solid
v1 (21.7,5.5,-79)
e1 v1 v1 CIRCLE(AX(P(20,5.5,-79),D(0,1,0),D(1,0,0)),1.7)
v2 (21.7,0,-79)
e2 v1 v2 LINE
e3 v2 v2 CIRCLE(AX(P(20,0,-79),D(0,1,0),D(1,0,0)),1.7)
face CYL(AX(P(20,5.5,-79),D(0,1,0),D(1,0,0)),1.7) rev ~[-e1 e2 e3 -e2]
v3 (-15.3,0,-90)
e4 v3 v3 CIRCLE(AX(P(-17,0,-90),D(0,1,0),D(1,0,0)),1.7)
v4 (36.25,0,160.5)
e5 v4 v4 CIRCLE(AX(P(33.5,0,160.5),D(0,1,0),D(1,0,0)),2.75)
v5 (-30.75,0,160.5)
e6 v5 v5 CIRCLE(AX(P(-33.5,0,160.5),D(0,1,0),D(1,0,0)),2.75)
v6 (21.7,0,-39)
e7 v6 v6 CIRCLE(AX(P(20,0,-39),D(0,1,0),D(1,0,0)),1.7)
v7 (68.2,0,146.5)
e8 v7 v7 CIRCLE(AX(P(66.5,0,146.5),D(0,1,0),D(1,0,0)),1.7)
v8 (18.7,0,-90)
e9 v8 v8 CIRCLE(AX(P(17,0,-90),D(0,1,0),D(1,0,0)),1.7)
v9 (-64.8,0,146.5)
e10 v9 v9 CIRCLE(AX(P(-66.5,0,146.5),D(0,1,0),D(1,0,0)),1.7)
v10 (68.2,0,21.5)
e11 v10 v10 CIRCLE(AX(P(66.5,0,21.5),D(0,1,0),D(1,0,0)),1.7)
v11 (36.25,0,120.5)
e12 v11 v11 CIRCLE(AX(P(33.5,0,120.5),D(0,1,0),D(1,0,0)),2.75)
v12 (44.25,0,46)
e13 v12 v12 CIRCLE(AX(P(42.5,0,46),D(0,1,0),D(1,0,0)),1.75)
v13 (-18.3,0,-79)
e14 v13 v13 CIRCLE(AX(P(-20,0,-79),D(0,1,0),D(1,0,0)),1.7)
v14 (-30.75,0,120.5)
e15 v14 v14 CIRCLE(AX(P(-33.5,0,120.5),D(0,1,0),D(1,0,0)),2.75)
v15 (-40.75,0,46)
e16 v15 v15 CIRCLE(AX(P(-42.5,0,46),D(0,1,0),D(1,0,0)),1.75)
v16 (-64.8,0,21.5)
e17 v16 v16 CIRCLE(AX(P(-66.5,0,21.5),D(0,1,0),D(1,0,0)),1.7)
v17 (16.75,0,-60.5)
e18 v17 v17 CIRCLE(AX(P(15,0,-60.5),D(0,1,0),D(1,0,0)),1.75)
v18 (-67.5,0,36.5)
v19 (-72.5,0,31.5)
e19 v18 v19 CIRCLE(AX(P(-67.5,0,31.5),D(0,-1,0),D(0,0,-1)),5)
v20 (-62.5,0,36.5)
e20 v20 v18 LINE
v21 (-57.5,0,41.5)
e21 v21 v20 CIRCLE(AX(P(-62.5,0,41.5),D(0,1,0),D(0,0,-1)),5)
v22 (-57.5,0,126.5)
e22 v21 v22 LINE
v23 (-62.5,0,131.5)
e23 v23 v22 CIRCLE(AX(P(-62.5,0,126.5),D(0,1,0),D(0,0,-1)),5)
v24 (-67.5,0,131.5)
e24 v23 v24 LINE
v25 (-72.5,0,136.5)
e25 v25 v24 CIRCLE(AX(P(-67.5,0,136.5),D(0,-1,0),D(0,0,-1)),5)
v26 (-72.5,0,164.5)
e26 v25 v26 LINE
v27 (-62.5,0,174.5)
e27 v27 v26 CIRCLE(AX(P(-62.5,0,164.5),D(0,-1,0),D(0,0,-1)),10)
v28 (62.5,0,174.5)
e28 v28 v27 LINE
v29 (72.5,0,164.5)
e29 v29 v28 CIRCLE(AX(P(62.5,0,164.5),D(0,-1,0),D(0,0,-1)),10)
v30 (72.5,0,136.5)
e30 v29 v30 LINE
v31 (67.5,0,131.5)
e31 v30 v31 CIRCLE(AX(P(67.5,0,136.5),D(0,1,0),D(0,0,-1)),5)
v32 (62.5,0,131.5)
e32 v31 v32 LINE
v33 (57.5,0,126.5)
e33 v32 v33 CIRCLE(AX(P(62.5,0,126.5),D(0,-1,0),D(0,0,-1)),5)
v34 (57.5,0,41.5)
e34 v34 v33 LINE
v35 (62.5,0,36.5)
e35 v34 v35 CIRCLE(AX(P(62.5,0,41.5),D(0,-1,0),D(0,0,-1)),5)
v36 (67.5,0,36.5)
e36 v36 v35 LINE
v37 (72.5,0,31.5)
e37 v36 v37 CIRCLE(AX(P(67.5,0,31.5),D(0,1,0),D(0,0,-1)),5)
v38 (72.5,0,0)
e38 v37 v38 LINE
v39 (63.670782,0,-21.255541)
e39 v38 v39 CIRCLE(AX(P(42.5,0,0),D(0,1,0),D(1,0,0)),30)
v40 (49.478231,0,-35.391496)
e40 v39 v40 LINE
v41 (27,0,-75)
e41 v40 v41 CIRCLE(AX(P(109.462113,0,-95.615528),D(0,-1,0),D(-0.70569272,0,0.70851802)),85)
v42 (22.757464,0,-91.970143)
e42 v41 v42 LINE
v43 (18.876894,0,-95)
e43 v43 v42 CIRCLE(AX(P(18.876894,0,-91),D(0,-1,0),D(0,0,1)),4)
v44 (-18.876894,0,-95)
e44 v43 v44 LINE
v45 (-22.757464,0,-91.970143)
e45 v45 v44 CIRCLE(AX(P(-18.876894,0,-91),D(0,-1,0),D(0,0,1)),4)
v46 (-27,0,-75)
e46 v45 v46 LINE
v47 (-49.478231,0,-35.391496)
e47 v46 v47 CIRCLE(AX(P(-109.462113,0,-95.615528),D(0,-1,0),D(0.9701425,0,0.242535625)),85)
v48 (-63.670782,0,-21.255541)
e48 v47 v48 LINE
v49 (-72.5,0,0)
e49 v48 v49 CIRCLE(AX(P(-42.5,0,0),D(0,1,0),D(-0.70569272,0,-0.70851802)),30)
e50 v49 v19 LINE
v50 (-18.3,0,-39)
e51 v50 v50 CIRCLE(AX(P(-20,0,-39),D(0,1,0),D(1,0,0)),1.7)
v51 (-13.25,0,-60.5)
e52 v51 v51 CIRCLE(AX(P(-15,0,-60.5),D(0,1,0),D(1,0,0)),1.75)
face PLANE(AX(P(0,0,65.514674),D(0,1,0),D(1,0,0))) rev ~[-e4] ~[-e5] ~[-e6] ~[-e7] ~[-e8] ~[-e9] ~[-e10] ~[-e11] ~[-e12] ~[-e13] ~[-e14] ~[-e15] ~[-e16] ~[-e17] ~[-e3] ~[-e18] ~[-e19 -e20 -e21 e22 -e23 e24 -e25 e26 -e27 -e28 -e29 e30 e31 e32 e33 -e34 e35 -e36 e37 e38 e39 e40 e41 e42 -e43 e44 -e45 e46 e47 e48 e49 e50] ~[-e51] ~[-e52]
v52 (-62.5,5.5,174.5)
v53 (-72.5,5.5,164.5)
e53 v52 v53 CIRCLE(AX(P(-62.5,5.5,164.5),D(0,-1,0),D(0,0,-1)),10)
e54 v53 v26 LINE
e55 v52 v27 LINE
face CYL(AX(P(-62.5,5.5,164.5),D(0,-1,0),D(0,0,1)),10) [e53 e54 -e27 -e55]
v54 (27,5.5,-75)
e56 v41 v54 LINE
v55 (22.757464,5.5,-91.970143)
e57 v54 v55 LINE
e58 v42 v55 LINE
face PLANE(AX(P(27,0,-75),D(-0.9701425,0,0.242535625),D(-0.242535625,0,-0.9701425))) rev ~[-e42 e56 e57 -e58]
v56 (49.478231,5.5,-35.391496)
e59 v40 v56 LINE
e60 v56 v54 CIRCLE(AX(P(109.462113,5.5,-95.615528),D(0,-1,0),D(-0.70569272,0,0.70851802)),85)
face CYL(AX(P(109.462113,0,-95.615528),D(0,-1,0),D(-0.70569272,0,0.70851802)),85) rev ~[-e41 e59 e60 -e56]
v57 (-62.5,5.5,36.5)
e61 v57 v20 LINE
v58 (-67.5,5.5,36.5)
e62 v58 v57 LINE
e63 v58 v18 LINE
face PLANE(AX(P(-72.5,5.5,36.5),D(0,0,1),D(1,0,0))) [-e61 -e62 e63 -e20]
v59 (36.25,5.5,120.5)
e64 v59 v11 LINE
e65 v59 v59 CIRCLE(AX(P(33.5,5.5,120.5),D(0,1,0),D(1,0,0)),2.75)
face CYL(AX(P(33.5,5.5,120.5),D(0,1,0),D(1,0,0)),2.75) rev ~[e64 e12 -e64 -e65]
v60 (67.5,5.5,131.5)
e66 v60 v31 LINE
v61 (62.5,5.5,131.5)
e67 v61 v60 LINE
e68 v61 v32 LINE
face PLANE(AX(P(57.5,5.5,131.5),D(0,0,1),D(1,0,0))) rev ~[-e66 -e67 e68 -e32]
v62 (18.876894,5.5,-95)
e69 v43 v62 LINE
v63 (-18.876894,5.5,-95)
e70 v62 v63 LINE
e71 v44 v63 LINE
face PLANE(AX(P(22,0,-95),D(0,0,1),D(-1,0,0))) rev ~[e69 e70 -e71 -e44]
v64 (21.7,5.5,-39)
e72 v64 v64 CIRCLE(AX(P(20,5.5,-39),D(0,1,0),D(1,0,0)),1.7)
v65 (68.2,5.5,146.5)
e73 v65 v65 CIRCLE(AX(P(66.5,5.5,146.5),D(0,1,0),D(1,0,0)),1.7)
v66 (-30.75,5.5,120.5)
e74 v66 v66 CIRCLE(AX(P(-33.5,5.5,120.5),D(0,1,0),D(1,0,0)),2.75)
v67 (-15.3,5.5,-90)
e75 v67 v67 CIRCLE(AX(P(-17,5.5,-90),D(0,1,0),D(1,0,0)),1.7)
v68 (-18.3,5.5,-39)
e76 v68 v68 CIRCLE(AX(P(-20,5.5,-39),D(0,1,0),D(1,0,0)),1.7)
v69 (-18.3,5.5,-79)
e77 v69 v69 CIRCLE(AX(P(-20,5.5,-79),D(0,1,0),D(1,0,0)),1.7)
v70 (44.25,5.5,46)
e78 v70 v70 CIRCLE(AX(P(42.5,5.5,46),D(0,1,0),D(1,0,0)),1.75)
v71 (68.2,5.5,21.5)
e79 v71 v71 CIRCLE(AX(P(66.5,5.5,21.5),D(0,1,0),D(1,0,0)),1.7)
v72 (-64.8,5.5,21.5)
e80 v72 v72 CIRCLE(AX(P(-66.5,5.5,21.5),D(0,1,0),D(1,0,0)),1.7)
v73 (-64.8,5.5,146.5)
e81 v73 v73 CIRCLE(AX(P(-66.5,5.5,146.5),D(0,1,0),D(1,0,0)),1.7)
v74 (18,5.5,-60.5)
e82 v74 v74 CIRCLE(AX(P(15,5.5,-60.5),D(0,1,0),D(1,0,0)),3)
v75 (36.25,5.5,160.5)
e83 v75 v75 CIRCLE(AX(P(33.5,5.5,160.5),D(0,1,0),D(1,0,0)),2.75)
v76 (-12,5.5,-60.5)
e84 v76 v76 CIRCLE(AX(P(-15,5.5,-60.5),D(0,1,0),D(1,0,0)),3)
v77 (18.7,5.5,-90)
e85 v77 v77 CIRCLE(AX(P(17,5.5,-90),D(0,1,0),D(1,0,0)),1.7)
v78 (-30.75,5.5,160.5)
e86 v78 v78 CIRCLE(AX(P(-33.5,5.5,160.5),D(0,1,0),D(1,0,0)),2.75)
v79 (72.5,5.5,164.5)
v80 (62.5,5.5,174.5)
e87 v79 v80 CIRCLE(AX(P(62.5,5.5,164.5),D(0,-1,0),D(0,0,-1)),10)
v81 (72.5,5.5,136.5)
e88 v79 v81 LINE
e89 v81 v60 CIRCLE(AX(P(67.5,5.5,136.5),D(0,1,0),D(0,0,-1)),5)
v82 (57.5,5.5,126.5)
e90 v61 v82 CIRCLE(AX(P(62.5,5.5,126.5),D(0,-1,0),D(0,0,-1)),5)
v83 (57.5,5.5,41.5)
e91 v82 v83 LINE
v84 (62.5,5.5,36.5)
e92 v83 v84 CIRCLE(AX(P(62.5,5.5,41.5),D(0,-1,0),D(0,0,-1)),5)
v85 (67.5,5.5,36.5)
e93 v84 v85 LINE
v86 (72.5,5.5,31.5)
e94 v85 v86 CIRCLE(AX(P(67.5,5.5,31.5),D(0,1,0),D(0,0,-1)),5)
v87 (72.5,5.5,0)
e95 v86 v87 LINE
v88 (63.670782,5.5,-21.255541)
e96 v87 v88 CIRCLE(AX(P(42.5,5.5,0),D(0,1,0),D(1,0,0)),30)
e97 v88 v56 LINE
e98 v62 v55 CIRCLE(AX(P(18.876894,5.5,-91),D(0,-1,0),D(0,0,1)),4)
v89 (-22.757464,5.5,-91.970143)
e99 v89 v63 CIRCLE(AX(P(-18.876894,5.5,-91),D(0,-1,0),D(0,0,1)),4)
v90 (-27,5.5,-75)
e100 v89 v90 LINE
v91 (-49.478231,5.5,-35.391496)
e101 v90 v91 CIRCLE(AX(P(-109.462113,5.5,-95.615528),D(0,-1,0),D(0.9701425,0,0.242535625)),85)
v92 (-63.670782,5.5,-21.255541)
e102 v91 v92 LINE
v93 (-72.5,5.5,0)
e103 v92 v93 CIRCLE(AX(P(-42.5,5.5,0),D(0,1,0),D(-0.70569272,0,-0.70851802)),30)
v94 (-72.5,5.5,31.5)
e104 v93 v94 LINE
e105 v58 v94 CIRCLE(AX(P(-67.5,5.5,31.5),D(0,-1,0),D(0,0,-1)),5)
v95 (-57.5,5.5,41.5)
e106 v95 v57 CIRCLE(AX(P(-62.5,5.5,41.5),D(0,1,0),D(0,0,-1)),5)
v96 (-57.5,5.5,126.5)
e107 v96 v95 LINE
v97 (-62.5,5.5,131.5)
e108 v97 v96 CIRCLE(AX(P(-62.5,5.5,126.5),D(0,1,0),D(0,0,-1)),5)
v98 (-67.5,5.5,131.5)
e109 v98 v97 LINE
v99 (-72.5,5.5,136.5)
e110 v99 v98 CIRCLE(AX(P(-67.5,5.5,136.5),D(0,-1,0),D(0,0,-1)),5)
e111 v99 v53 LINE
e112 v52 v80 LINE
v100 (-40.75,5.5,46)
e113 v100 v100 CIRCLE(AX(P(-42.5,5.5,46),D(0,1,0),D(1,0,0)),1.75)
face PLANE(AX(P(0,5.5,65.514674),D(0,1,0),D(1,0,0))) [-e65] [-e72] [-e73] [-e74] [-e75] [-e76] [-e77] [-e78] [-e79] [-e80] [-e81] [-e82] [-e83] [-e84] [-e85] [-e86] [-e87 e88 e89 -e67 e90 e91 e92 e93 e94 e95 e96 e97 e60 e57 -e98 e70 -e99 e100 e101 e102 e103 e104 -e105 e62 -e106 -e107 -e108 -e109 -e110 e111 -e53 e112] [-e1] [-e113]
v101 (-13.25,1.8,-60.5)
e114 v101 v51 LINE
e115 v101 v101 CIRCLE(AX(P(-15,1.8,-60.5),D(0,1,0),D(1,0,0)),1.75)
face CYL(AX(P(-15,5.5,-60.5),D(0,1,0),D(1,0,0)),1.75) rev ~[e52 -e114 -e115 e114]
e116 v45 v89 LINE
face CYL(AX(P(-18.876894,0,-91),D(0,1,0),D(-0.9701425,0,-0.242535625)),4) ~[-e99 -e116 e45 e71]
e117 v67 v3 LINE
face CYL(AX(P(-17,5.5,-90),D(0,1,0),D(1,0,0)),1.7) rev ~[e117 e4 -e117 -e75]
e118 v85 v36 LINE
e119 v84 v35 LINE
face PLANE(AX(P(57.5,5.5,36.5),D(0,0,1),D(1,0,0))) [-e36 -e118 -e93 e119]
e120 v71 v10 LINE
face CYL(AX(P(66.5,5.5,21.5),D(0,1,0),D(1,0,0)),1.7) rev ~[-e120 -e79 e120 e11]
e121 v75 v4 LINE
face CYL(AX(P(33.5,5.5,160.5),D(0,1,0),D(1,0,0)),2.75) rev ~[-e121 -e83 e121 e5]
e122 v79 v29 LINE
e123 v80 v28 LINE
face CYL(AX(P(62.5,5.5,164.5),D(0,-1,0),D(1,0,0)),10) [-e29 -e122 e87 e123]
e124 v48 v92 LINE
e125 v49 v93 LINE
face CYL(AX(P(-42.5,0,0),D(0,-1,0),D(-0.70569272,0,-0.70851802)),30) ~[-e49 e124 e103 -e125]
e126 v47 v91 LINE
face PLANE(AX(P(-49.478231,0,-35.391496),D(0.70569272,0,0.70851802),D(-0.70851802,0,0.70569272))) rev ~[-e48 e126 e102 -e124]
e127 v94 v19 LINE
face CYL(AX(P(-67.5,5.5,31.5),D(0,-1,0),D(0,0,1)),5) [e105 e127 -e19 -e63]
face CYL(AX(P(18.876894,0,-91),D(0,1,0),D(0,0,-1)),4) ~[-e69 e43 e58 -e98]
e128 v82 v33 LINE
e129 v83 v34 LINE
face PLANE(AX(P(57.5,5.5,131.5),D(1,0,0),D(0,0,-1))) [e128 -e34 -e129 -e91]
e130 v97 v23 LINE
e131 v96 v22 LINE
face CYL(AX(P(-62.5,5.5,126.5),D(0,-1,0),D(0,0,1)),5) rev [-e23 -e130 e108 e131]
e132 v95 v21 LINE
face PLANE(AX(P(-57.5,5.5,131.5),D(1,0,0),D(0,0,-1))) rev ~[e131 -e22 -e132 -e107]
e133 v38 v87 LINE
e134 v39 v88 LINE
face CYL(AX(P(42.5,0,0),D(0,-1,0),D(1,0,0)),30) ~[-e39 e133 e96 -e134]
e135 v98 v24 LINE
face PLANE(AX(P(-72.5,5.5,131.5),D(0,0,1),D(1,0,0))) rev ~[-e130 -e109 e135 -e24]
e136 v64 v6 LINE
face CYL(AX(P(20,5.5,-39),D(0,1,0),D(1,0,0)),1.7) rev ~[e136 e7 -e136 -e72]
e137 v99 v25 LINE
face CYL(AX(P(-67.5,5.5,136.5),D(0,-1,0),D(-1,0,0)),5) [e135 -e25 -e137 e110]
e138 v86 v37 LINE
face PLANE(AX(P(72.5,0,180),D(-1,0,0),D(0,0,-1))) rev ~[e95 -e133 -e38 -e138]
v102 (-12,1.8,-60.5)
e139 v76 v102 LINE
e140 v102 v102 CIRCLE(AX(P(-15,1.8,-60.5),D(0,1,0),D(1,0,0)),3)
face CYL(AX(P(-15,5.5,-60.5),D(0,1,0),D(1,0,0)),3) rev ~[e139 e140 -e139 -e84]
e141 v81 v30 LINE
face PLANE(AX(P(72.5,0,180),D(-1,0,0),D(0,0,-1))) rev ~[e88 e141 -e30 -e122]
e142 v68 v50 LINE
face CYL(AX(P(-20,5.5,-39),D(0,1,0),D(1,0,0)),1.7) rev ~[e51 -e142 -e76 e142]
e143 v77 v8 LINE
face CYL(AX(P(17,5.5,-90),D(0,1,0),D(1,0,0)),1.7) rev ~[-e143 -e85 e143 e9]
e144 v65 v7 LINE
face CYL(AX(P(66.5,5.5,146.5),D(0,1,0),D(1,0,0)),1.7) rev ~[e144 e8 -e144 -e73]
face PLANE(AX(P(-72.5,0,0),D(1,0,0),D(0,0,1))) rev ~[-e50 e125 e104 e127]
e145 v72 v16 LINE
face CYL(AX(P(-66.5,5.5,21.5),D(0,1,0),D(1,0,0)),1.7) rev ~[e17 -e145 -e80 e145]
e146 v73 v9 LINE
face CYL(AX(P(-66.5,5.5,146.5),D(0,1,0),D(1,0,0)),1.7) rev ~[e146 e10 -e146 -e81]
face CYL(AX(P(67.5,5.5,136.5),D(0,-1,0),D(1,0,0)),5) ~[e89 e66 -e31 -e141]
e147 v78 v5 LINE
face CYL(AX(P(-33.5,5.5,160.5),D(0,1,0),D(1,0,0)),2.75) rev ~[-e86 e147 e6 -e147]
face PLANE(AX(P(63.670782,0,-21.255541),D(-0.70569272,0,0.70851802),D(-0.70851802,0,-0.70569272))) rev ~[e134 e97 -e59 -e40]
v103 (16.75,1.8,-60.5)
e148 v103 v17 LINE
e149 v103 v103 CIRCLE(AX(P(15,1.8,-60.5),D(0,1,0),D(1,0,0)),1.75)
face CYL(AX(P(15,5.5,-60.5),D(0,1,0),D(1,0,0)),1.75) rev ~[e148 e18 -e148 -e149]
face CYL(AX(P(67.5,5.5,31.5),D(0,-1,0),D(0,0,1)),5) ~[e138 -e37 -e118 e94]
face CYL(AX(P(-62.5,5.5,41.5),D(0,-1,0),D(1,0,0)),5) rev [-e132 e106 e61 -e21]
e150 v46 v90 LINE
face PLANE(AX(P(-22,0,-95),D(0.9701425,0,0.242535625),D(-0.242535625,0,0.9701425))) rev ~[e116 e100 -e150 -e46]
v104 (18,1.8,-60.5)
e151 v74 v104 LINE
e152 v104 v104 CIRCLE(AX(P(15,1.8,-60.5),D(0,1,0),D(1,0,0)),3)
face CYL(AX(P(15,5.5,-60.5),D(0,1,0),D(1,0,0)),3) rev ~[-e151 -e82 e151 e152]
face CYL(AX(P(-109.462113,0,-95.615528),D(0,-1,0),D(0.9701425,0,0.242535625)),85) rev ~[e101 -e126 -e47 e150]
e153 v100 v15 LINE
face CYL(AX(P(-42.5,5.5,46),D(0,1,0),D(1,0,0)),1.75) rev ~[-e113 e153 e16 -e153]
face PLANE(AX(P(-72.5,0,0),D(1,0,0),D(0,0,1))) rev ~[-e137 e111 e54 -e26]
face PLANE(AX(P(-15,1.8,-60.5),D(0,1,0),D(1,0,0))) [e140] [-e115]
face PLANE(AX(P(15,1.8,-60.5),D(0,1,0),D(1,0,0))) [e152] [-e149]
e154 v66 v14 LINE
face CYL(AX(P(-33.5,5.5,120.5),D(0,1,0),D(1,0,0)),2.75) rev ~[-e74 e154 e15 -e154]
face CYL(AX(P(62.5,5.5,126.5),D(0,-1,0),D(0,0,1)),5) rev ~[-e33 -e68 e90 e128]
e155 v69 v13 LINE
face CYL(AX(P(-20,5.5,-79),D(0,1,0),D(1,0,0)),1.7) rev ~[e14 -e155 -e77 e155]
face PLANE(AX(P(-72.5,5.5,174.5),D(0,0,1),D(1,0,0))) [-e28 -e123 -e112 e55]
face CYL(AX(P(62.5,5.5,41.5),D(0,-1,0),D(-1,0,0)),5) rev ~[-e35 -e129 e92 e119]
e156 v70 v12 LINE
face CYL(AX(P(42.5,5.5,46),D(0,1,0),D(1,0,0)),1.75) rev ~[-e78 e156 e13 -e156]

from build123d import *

# Parameters (mm, degrees)
DECK_BASE_DEPTH     = 5.5
BOLT_SLOT_REACH     = 7.5
SKETCH_3_R          = 1.7
FILLET_1_R          = 4
CUT_EXTRUDE_2_REACH = 7.5
SKETCH_11_W         = 15
SKETCH_11_H         = 95
CUT_EXTRUDE_1_REACH = 7.5
SKETCH_10_W         = 145
SKETCH_10_H         = 38.5
FILLET_2_R          = 10
FILLET_3_R          = 5
LIDAR_SLOT_REACH    = 7.5
SKETCH_4_R          = 1.7
VESC_SLOT_REACH     = 7.5
SKETCH_6_R          = 2.75
NANO_SLOT_REACH     = 7.5
SKETCH_7_R          = 1.75
CUT_EXTRUDE_3_REACH = 7.5
SKETCH_12_R         = 1.75
SKETCH_13_R         = 3
CUT_EXTRUDE_4_DEPTH = 3.7


with BuildPart() as part:
    # 스케치1 → Deck base (new body)
    with BuildSketch(Plane(origin=(0, 0, 0), x_dir=(1, 0, 0), z_dir=(0, 1, 0))):
        with BuildLine():
            Line((-72.5, 0), (-72.5, -180))
            ThreePointArc((-72.5, -180), (-69.571067812, -187.071067812), (-62.5, -190))
            Line((-62.5, -190), (-49.196112248, -190))
            ThreePointArc((-49.196112248, -190), (-47.589899161, -190.265015363), (-46.15395453, -191.031968194))
            Line((-46.15395453, -191.031968194), (-18.84604547, -211.968031806))
            ThreePointArc((-18.84604547, -211.968031806), (-17.410100839, -212.734984637), (-15.803887752, -213))
            Line((-15.803887752, -213), (15.803887752, -213))
            ThreePointArc((15.803887752, -213), (17.410100839, -212.734984637), (18.84604547, -211.968031806))
            Line((18.84604547, -211.968031806), (46.15395453, -191.031968194))
            ThreePointArc((46.15395453, -191.031968194), (47.589899161, -190.265015363), (49.196112248, -190))
            Line((49.196112248, -190), (62.5, -190))
            ThreePointArc((62.5, -190), (69.571067812, -187.071067812), (72.5, -180))
            Line((72.5, -180), (72.5, 0))
            ThreePointArc((72.5, 0), (70.204904333, 11.508182998), (63.670781605, 21.255540601))
            Line((63.670781605, 21.255540601), (49.478231298, 35.391496426))
            ThreePointArc((49.478231298, 35.391496426), (35.536990456, 53.662264501), (27, 75))
            Line((27, 75), (22, 95))
            Line((22, 95), (-22, 95))
            Line((-22, 95), (-27, 75))
            ThreePointArc((-27, 75), (-35.536990456, 53.662264501), (-49.478231298, 35.391496426))
            Line((-49.478231298, 35.391496426), (-63.670781605, 21.255540601))
            ThreePointArc((-63.670781605, 21.255540601), (-70.204904333, 11.508182998), (-72.5, 0))
        make_face()
    extrude(amount=DECK_BASE_DEPTH)

    # 스케치3 → Bolt slot (cut, up to next)
    with BuildSketch(Plane(origin=(0, 5.5, 0), x_dir=(1, 0, 0), z_dir=(0, 1, 0)), mode=Mode.PRIVATE) as bolt_slot_sk1:
        with Locations((17, 90)):
            Circle(SKETCH_3_R)
    bolt_slot_tool1 = extrude(bolt_slot_sk1.sketch, amount=-BOLT_SLOT_REACH, mode=Mode.PRIVATE) & part.part
    add(bolt_slot_tool1.solids().sort_by_distance((17, 5.5, -90))[0], mode=Mode.SUBTRACT)
    # 스케치3 → Bolt slot (cut, up to next)
    with BuildSketch(Plane(origin=(0, 5.5, 0), x_dir=(1, 0, 0), z_dir=(0, 1, 0)), mode=Mode.PRIVATE) as bolt_slot_sk2:
        with Locations((66.5, -146.5)):
            Circle(SKETCH_3_R)
    bolt_slot_tool2 = extrude(bolt_slot_sk2.sketch, amount=-BOLT_SLOT_REACH, mode=Mode.PRIVATE) & part.part
    add(bolt_slot_tool2.solids().sort_by_distance((66.5, 5.5, 146.5))[0], mode=Mode.SUBTRACT)
    # 스케치3 → Bolt slot (cut, up to next)
    with BuildSketch(Plane(origin=(0, 5.5, 0), x_dir=(1, 0, 0), z_dir=(0, 1, 0)), mode=Mode.PRIVATE) as bolt_slot_sk3:
        with Locations((66.5, -116.5)):
            Circle(SKETCH_3_R)
    bolt_slot_tool3 = extrude(bolt_slot_sk3.sketch, amount=-BOLT_SLOT_REACH, mode=Mode.PRIVATE) & part.part
    add(bolt_slot_tool3.solids().sort_by_distance((66.5, 5.5, 116.5))[0], mode=Mode.SUBTRACT)
    # 스케치3 → Bolt slot (cut, up to next)
    with BuildSketch(Plane(origin=(0, 5.5, 0), x_dir=(1, 0, 0), z_dir=(0, 1, 0)), mode=Mode.PRIVATE) as bolt_slot_sk4:
        with Locations((66.5, -51.5)):
            Circle(SKETCH_3_R)
    bolt_slot_tool4 = extrude(bolt_slot_sk4.sketch, amount=-BOLT_SLOT_REACH, mode=Mode.PRIVATE) & part.part
    add(bolt_slot_tool4.solids().sort_by_distance((66.5, 5.5, 51.5))[0], mode=Mode.SUBTRACT)
    # 스케치3 → Bolt slot (cut, up to next)
    with BuildSketch(Plane(origin=(0, 5.5, 0), x_dir=(1, 0, 0), z_dir=(0, 1, 0)), mode=Mode.PRIVATE) as bolt_slot_sk5:
        with Locations((66.5, -21.5)):
            Circle(SKETCH_3_R)
    bolt_slot_tool5 = extrude(bolt_slot_sk5.sketch, amount=-BOLT_SLOT_REACH, mode=Mode.PRIVATE) & part.part
    add(bolt_slot_tool5.solids().sort_by_distance((66.5, 5.5, 21.5))[0], mode=Mode.SUBTRACT)
    # 스케치3 → Bolt slot (cut, up to next)
    with BuildSketch(Plane(origin=(0, 5.5, 0), x_dir=(1, 0, 0), z_dir=(0, 1, 0)), mode=Mode.PRIVATE) as bolt_slot_sk6:
        with Locations((-66.5, -21.5)):
            Circle(SKETCH_3_R)
    bolt_slot_tool6 = extrude(bolt_slot_sk6.sketch, amount=-BOLT_SLOT_REACH, mode=Mode.PRIVATE) & part.part
    add(bolt_slot_tool6.solids().sort_by_distance((-66.5, 5.5, 21.5))[0], mode=Mode.SUBTRACT)
    # 스케치3 → Bolt slot (cut, up to next)
    with BuildSketch(Plane(origin=(0, 5.5, 0), x_dir=(1, 0, 0), z_dir=(0, 1, 0)), mode=Mode.PRIVATE) as bolt_slot_sk7:
        with Locations((-66.5, -51.5)):
            Circle(SKETCH_3_R)
    bolt_slot_tool7 = extrude(bolt_slot_sk7.sketch, amount=-BOLT_SLOT_REACH, mode=Mode.PRIVATE) & part.part
    add(bolt_slot_tool7.solids().sort_by_distance((-66.5, 5.5, 51.5))[0], mode=Mode.SUBTRACT)
    # 스케치3 → Bolt slot (cut, up to next)
    with BuildSketch(Plane(origin=(0, 5.5, 0), x_dir=(1, 0, 0), z_dir=(0, 1, 0)), mode=Mode.PRIVATE) as bolt_slot_sk8:
        with Locations((-66.5, -116.5)):
            Circle(SKETCH_3_R)
    bolt_slot_tool8 = extrude(bolt_slot_sk8.sketch, amount=-BOLT_SLOT_REACH, mode=Mode.PRIVATE) & part.part
    add(bolt_slot_tool8.solids().sort_by_distance((-66.5, 5.5, 116.5))[0], mode=Mode.SUBTRACT)
    # 스케치3 → Bolt slot (cut, up to next)
    with BuildSketch(Plane(origin=(0, 5.5, 0), x_dir=(1, 0, 0), z_dir=(0, 1, 0)), mode=Mode.PRIVATE) as bolt_slot_sk9:
        with Locations((-66.5, -146.5)):
            Circle(SKETCH_3_R)
    bolt_slot_tool9 = extrude(bolt_slot_sk9.sketch, amount=-BOLT_SLOT_REACH, mode=Mode.PRIVATE) & part.part
    add(bolt_slot_tool9.solids().sort_by_distance((-66.5, 5.5, 146.5))[0], mode=Mode.SUBTRACT)
    # 스케치3 → Bolt slot (cut, up to next)
    with BuildSketch(Plane(origin=(0, 5.5, 0), x_dir=(1, 0, 0), z_dir=(0, 1, 0)), mode=Mode.PRIVATE) as bolt_slot_sk10:
        with Locations((-17, 90)):
            Circle(SKETCH_3_R)
    bolt_slot_tool10 = extrude(bolt_slot_sk10.sketch, amount=-BOLT_SLOT_REACH, mode=Mode.PRIVATE) & part.part
    add(bolt_slot_tool10.solids().sort_by_distance((-17, 5.5, -90))[0], mode=Mode.SUBTRACT)

    # 필렛1
    fillet_1_edges = [part.edges().sort_by_distance(p)[0] for p in [
        (22, 2.75, -95),
        (-22, 2.75, -95),
    ]]
    fillet(fillet_1_edges, radius=FILLET_1_R)

    # 스케치11 → 컷-돌출2 (cut, up to next)
    with BuildSketch(Plane(origin=(0, 5.5, 0), x_dir=(1, 0, 0), z_dir=(0, 1, 0)), mode=Mode.PRIVATE) as cut_extrude_2_sk1:
        with Locations((-65, -84)):
            Rectangle(SKETCH_11_W, SKETCH_11_H)
    cut_extrude_2_tool1 = extrude(cut_extrude_2_sk1.sketch, amount=-CUT_EXTRUDE_2_REACH, mode=Mode.PRIVATE) & part.part
    add(cut_extrude_2_tool1.solids().sort_by_distance((-65, 5.5, 84))[0], mode=Mode.SUBTRACT)
    # 스케치11 → 컷-돌출2 (cut, up to next)
    with BuildSketch(Plane(origin=(0, 5.5, 0), x_dir=(1, 0, 0), z_dir=(0, 1, 0)), mode=Mode.PRIVATE) as cut_extrude_2_sk2:
        with Locations((65, -84)):
            Rectangle(SKETCH_11_W, SKETCH_11_H)
    cut_extrude_2_tool2 = extrude(cut_extrude_2_sk2.sketch, amount=-CUT_EXTRUDE_2_REACH, mode=Mode.PRIVATE) & part.part
    add(cut_extrude_2_tool2.solids().sort_by_distance((65, 5.5, 84))[0], mode=Mode.SUBTRACT)

    # 스케치10 → 컷-돌출1 (cut, up to next)
    with BuildSketch(Plane(origin=(0, 5.5, 0), x_dir=(1, 0, 0), z_dir=(0, 1, 0)), mode=Mode.PRIVATE) as cut_extrude_1_sk1:
        with Locations((0, -193.75)):
            Rectangle(SKETCH_10_W, SKETCH_10_H)
    cut_extrude_1_tool1 = extrude(cut_extrude_1_sk1.sketch, amount=-CUT_EXTRUDE_1_REACH, mode=Mode.PRIVATE) & part.part
    add(cut_extrude_1_tool1.solids().sort_by_distance((0, 5.5, 193.75))[0], mode=Mode.SUBTRACT)

    # 필렛2
    fillet_2_edges = [part.edges().sort_by_distance(p)[0] for p in [
        (72.5, 2.75, 174.5),
        (-72.5, 2.75, 174.5),
    ]]
    fillet(fillet_2_edges, radius=FILLET_2_R)

    # 필렛3
    fillet_3_edges = [part.edges().sort_by_distance(p)[0] for p in [
        (-72.5, 2.75, 131.5),
        (-72.5, 2.75, 36.5),
        (-57.5, 2.75, 36.5),
        (-57.5, 2.75, 131.5),
        (72.5, 2.75, 36.5),
        (72.5, 2.75, 131.5),
        (57.5, 2.75, 131.5),
        (57.5, 2.75, 36.5),
    ]]
    fillet(fillet_3_edges, radius=FILLET_3_R)

    # 스케치4 → Lidar slot (cut, up to next)
    with BuildSketch(Plane(origin=(0, 5.5, 0), x_dir=(1, 0, 0), z_dir=(0, 1, 0)), mode=Mode.PRIVATE) as lidar_slot_sk1:
        with Locations((-20, 79)):
            Circle(SKETCH_4_R)
    lidar_slot_tool1 = extrude(lidar_slot_sk1.sketch, amount=-LIDAR_SLOT_REACH, mode=Mode.PRIVATE) & part.part
    add(lidar_slot_tool1.solids().sort_by_distance((-20, 5.5, -79))[0], mode=Mode.SUBTRACT)
    # 스케치4 → Lidar slot (cut, up to next)
    with BuildSketch(Plane(origin=(0, 5.5, 0), x_dir=(1, 0, 0), z_dir=(0, 1, 0)), mode=Mode.PRIVATE) as lidar_slot_sk2:
        with Locations((-20, 39)):
            Circle(SKETCH_4_R)
    lidar_slot_tool2 = extrude(lidar_slot_sk2.sketch, amount=-LIDAR_SLOT_REACH, mode=Mode.PRIVATE) & part.part
    add(lidar_slot_tool2.solids().sort_by_distance((-20, 5.5, -39))[0], mode=Mode.SUBTRACT)
    # 스케치4 → Lidar slot (cut, up to next)
    with BuildSketch(Plane(origin=(0, 5.5, 0), x_dir=(1, 0, 0), z_dir=(0, 1, 0)), mode=Mode.PRIVATE) as lidar_slot_sk3:
        with Locations((20, 39)):
            Circle(SKETCH_4_R)
    lidar_slot_tool3 = extrude(lidar_slot_sk3.sketch, amount=-LIDAR_SLOT_REACH, mode=Mode.PRIVATE) & part.part
    add(lidar_slot_tool3.solids().sort_by_distance((20, 5.5, -39))[0], mode=Mode.SUBTRACT)
    # 스케치4 → Lidar slot (cut, up to next)
    with BuildSketch(Plane(origin=(0, 5.5, 0), x_dir=(1, 0, 0), z_dir=(0, 1, 0)), mode=Mode.PRIVATE) as lidar_slot_sk4:
        with Locations((20, 79)):
            Circle(SKETCH_4_R)
    lidar_slot_tool4 = extrude(lidar_slot_sk4.sketch, amount=-LIDAR_SLOT_REACH, mode=Mode.PRIVATE) & part.part
    add(lidar_slot_tool4.solids().sort_by_distance((20, 5.5, -79))[0], mode=Mode.SUBTRACT)

    # 스케치6 → Vesc slot (cut, up to next)
    with BuildSketch(Plane(origin=(0, 5.5, 0), x_dir=(1, 0, 0), z_dir=(0, 1, 0)), mode=Mode.PRIVATE) as vesc_slot_sk1:
        with Locations((33.5, -120.5)):
            Circle(SKETCH_6_R)
    vesc_slot_tool1 = extrude(vesc_slot_sk1.sketch, amount=-VESC_SLOT_REACH, mode=Mode.PRIVATE) & part.part
    add(vesc_slot_tool1.solids().sort_by_distance((33.5, 5.5, 120.5))[0], mode=Mode.SUBTRACT)
    # 스케치6 → Vesc slot (cut, up to next)
    with BuildSketch(Plane(origin=(0, 5.5, 0), x_dir=(1, 0, 0), z_dir=(0, 1, 0)), mode=Mode.PRIVATE) as vesc_slot_sk2:
        with Locations((33.5, -160.5)):
            Circle(SKETCH_6_R)
    vesc_slot_tool2 = extrude(vesc_slot_sk2.sketch, amount=-VESC_SLOT_REACH, mode=Mode.PRIVATE) & part.part
    add(vesc_slot_tool2.solids().sort_by_distance((33.5, 5.5, 160.5))[0], mode=Mode.SUBTRACT)
    # 스케치6 → Vesc slot (cut, up to next)
    with BuildSketch(Plane(origin=(0, 5.5, 0), x_dir=(1, 0, 0), z_dir=(0, 1, 0)), mode=Mode.PRIVATE) as vesc_slot_sk3:
        with Locations((-33.5, -160.5)):
            Circle(SKETCH_6_R)
    vesc_slot_tool3 = extrude(vesc_slot_sk3.sketch, amount=-VESC_SLOT_REACH, mode=Mode.PRIVATE) & part.part
    add(vesc_slot_tool3.solids().sort_by_distance((-33.5, 5.5, 160.5))[0], mode=Mode.SUBTRACT)
    # 스케치6 → Vesc slot (cut, up to next)
    with BuildSketch(Plane(origin=(0, 5.5, 0), x_dir=(1, 0, 0), z_dir=(0, 1, 0)), mode=Mode.PRIVATE) as vesc_slot_sk4:
        with Locations((-33.5, -120.5)):
            Circle(SKETCH_6_R)
    vesc_slot_tool4 = extrude(vesc_slot_sk4.sketch, amount=-VESC_SLOT_REACH, mode=Mode.PRIVATE) & part.part
    add(vesc_slot_tool4.solids().sort_by_distance((-33.5, 5.5, 120.5))[0], mode=Mode.SUBTRACT)

    # 스케치7 → Nano slot (cut, up to next)
    with BuildSketch(Plane(origin=(0, 5.5, 0), x_dir=(1, 0, 0), z_dir=(0, 1, 0)), mode=Mode.PRIVATE) as nano_slot_sk1:
        with Locations((-42.5, -46)):
            Circle(SKETCH_7_R)
    nano_slot_tool1 = extrude(nano_slot_sk1.sketch, amount=-NANO_SLOT_REACH, mode=Mode.PRIVATE) & part.part
    add(nano_slot_tool1.solids().sort_by_distance((-42.5, 5.5, 46))[0], mode=Mode.SUBTRACT)
    # 스케치7 → Nano slot (cut, up to next)
    with BuildSketch(Plane(origin=(0, 5.5, 0), x_dir=(1, 0, 0), z_dir=(0, 1, 0)), mode=Mode.PRIVATE) as nano_slot_sk2:
        with Locations((42.5, -46)):
            Circle(SKETCH_7_R)
    nano_slot_tool2 = extrude(nano_slot_sk2.sketch, amount=-NANO_SLOT_REACH, mode=Mode.PRIVATE) & part.part
    add(nano_slot_tool2.solids().sort_by_distance((42.5, 5.5, 46))[0], mode=Mode.SUBTRACT)

    # 스케치12 → 컷-돌출3 (cut, up to next)
    with BuildSketch(Plane(origin=(0, 5.5, 0), x_dir=(1, 0, 0), z_dir=(0, 1, 0)), mode=Mode.PRIVATE) as cut_extrude_3_sk1:
        with Locations((-15, 60.5)):
            Circle(SKETCH_12_R)
    cut_extrude_3_tool1 = extrude(cut_extrude_3_sk1.sketch, amount=-CUT_EXTRUDE_3_REACH, mode=Mode.PRIVATE) & part.part
    add(cut_extrude_3_tool1.solids().sort_by_distance((-15, 5.5, -60.5))[0], mode=Mode.SUBTRACT)
    # 스케치12 → 컷-돌출3 (cut, up to next)
    with BuildSketch(Plane(origin=(0, 5.5, 0), x_dir=(1, 0, 0), z_dir=(0, 1, 0)), mode=Mode.PRIVATE) as cut_extrude_3_sk2:
        with Locations((15, 60.5)):
            Circle(SKETCH_12_R)
    cut_extrude_3_tool2 = extrude(cut_extrude_3_sk2.sketch, amount=-CUT_EXTRUDE_3_REACH, mode=Mode.PRIVATE) & part.part
    add(cut_extrude_3_tool2.solids().sort_by_distance((15, 5.5, -60.5))[0], mode=Mode.SUBTRACT)

    # 스케치13 → 컷-돌출4 (cut)
    with BuildSketch(Plane(origin=(0, 5.5, 0), x_dir=(1, 0, 0), z_dir=(0, 1, 0))):
        with Locations((-15, 60.5)):
            Circle(SKETCH_13_R)
        with Locations((15, 60.5)):
            Circle(SKETCH_13_R)
    extrude(amount=-CUT_EXTRUDE_4_DEPTH, mode=Mode.SUBTRACT)


solid = part.part
